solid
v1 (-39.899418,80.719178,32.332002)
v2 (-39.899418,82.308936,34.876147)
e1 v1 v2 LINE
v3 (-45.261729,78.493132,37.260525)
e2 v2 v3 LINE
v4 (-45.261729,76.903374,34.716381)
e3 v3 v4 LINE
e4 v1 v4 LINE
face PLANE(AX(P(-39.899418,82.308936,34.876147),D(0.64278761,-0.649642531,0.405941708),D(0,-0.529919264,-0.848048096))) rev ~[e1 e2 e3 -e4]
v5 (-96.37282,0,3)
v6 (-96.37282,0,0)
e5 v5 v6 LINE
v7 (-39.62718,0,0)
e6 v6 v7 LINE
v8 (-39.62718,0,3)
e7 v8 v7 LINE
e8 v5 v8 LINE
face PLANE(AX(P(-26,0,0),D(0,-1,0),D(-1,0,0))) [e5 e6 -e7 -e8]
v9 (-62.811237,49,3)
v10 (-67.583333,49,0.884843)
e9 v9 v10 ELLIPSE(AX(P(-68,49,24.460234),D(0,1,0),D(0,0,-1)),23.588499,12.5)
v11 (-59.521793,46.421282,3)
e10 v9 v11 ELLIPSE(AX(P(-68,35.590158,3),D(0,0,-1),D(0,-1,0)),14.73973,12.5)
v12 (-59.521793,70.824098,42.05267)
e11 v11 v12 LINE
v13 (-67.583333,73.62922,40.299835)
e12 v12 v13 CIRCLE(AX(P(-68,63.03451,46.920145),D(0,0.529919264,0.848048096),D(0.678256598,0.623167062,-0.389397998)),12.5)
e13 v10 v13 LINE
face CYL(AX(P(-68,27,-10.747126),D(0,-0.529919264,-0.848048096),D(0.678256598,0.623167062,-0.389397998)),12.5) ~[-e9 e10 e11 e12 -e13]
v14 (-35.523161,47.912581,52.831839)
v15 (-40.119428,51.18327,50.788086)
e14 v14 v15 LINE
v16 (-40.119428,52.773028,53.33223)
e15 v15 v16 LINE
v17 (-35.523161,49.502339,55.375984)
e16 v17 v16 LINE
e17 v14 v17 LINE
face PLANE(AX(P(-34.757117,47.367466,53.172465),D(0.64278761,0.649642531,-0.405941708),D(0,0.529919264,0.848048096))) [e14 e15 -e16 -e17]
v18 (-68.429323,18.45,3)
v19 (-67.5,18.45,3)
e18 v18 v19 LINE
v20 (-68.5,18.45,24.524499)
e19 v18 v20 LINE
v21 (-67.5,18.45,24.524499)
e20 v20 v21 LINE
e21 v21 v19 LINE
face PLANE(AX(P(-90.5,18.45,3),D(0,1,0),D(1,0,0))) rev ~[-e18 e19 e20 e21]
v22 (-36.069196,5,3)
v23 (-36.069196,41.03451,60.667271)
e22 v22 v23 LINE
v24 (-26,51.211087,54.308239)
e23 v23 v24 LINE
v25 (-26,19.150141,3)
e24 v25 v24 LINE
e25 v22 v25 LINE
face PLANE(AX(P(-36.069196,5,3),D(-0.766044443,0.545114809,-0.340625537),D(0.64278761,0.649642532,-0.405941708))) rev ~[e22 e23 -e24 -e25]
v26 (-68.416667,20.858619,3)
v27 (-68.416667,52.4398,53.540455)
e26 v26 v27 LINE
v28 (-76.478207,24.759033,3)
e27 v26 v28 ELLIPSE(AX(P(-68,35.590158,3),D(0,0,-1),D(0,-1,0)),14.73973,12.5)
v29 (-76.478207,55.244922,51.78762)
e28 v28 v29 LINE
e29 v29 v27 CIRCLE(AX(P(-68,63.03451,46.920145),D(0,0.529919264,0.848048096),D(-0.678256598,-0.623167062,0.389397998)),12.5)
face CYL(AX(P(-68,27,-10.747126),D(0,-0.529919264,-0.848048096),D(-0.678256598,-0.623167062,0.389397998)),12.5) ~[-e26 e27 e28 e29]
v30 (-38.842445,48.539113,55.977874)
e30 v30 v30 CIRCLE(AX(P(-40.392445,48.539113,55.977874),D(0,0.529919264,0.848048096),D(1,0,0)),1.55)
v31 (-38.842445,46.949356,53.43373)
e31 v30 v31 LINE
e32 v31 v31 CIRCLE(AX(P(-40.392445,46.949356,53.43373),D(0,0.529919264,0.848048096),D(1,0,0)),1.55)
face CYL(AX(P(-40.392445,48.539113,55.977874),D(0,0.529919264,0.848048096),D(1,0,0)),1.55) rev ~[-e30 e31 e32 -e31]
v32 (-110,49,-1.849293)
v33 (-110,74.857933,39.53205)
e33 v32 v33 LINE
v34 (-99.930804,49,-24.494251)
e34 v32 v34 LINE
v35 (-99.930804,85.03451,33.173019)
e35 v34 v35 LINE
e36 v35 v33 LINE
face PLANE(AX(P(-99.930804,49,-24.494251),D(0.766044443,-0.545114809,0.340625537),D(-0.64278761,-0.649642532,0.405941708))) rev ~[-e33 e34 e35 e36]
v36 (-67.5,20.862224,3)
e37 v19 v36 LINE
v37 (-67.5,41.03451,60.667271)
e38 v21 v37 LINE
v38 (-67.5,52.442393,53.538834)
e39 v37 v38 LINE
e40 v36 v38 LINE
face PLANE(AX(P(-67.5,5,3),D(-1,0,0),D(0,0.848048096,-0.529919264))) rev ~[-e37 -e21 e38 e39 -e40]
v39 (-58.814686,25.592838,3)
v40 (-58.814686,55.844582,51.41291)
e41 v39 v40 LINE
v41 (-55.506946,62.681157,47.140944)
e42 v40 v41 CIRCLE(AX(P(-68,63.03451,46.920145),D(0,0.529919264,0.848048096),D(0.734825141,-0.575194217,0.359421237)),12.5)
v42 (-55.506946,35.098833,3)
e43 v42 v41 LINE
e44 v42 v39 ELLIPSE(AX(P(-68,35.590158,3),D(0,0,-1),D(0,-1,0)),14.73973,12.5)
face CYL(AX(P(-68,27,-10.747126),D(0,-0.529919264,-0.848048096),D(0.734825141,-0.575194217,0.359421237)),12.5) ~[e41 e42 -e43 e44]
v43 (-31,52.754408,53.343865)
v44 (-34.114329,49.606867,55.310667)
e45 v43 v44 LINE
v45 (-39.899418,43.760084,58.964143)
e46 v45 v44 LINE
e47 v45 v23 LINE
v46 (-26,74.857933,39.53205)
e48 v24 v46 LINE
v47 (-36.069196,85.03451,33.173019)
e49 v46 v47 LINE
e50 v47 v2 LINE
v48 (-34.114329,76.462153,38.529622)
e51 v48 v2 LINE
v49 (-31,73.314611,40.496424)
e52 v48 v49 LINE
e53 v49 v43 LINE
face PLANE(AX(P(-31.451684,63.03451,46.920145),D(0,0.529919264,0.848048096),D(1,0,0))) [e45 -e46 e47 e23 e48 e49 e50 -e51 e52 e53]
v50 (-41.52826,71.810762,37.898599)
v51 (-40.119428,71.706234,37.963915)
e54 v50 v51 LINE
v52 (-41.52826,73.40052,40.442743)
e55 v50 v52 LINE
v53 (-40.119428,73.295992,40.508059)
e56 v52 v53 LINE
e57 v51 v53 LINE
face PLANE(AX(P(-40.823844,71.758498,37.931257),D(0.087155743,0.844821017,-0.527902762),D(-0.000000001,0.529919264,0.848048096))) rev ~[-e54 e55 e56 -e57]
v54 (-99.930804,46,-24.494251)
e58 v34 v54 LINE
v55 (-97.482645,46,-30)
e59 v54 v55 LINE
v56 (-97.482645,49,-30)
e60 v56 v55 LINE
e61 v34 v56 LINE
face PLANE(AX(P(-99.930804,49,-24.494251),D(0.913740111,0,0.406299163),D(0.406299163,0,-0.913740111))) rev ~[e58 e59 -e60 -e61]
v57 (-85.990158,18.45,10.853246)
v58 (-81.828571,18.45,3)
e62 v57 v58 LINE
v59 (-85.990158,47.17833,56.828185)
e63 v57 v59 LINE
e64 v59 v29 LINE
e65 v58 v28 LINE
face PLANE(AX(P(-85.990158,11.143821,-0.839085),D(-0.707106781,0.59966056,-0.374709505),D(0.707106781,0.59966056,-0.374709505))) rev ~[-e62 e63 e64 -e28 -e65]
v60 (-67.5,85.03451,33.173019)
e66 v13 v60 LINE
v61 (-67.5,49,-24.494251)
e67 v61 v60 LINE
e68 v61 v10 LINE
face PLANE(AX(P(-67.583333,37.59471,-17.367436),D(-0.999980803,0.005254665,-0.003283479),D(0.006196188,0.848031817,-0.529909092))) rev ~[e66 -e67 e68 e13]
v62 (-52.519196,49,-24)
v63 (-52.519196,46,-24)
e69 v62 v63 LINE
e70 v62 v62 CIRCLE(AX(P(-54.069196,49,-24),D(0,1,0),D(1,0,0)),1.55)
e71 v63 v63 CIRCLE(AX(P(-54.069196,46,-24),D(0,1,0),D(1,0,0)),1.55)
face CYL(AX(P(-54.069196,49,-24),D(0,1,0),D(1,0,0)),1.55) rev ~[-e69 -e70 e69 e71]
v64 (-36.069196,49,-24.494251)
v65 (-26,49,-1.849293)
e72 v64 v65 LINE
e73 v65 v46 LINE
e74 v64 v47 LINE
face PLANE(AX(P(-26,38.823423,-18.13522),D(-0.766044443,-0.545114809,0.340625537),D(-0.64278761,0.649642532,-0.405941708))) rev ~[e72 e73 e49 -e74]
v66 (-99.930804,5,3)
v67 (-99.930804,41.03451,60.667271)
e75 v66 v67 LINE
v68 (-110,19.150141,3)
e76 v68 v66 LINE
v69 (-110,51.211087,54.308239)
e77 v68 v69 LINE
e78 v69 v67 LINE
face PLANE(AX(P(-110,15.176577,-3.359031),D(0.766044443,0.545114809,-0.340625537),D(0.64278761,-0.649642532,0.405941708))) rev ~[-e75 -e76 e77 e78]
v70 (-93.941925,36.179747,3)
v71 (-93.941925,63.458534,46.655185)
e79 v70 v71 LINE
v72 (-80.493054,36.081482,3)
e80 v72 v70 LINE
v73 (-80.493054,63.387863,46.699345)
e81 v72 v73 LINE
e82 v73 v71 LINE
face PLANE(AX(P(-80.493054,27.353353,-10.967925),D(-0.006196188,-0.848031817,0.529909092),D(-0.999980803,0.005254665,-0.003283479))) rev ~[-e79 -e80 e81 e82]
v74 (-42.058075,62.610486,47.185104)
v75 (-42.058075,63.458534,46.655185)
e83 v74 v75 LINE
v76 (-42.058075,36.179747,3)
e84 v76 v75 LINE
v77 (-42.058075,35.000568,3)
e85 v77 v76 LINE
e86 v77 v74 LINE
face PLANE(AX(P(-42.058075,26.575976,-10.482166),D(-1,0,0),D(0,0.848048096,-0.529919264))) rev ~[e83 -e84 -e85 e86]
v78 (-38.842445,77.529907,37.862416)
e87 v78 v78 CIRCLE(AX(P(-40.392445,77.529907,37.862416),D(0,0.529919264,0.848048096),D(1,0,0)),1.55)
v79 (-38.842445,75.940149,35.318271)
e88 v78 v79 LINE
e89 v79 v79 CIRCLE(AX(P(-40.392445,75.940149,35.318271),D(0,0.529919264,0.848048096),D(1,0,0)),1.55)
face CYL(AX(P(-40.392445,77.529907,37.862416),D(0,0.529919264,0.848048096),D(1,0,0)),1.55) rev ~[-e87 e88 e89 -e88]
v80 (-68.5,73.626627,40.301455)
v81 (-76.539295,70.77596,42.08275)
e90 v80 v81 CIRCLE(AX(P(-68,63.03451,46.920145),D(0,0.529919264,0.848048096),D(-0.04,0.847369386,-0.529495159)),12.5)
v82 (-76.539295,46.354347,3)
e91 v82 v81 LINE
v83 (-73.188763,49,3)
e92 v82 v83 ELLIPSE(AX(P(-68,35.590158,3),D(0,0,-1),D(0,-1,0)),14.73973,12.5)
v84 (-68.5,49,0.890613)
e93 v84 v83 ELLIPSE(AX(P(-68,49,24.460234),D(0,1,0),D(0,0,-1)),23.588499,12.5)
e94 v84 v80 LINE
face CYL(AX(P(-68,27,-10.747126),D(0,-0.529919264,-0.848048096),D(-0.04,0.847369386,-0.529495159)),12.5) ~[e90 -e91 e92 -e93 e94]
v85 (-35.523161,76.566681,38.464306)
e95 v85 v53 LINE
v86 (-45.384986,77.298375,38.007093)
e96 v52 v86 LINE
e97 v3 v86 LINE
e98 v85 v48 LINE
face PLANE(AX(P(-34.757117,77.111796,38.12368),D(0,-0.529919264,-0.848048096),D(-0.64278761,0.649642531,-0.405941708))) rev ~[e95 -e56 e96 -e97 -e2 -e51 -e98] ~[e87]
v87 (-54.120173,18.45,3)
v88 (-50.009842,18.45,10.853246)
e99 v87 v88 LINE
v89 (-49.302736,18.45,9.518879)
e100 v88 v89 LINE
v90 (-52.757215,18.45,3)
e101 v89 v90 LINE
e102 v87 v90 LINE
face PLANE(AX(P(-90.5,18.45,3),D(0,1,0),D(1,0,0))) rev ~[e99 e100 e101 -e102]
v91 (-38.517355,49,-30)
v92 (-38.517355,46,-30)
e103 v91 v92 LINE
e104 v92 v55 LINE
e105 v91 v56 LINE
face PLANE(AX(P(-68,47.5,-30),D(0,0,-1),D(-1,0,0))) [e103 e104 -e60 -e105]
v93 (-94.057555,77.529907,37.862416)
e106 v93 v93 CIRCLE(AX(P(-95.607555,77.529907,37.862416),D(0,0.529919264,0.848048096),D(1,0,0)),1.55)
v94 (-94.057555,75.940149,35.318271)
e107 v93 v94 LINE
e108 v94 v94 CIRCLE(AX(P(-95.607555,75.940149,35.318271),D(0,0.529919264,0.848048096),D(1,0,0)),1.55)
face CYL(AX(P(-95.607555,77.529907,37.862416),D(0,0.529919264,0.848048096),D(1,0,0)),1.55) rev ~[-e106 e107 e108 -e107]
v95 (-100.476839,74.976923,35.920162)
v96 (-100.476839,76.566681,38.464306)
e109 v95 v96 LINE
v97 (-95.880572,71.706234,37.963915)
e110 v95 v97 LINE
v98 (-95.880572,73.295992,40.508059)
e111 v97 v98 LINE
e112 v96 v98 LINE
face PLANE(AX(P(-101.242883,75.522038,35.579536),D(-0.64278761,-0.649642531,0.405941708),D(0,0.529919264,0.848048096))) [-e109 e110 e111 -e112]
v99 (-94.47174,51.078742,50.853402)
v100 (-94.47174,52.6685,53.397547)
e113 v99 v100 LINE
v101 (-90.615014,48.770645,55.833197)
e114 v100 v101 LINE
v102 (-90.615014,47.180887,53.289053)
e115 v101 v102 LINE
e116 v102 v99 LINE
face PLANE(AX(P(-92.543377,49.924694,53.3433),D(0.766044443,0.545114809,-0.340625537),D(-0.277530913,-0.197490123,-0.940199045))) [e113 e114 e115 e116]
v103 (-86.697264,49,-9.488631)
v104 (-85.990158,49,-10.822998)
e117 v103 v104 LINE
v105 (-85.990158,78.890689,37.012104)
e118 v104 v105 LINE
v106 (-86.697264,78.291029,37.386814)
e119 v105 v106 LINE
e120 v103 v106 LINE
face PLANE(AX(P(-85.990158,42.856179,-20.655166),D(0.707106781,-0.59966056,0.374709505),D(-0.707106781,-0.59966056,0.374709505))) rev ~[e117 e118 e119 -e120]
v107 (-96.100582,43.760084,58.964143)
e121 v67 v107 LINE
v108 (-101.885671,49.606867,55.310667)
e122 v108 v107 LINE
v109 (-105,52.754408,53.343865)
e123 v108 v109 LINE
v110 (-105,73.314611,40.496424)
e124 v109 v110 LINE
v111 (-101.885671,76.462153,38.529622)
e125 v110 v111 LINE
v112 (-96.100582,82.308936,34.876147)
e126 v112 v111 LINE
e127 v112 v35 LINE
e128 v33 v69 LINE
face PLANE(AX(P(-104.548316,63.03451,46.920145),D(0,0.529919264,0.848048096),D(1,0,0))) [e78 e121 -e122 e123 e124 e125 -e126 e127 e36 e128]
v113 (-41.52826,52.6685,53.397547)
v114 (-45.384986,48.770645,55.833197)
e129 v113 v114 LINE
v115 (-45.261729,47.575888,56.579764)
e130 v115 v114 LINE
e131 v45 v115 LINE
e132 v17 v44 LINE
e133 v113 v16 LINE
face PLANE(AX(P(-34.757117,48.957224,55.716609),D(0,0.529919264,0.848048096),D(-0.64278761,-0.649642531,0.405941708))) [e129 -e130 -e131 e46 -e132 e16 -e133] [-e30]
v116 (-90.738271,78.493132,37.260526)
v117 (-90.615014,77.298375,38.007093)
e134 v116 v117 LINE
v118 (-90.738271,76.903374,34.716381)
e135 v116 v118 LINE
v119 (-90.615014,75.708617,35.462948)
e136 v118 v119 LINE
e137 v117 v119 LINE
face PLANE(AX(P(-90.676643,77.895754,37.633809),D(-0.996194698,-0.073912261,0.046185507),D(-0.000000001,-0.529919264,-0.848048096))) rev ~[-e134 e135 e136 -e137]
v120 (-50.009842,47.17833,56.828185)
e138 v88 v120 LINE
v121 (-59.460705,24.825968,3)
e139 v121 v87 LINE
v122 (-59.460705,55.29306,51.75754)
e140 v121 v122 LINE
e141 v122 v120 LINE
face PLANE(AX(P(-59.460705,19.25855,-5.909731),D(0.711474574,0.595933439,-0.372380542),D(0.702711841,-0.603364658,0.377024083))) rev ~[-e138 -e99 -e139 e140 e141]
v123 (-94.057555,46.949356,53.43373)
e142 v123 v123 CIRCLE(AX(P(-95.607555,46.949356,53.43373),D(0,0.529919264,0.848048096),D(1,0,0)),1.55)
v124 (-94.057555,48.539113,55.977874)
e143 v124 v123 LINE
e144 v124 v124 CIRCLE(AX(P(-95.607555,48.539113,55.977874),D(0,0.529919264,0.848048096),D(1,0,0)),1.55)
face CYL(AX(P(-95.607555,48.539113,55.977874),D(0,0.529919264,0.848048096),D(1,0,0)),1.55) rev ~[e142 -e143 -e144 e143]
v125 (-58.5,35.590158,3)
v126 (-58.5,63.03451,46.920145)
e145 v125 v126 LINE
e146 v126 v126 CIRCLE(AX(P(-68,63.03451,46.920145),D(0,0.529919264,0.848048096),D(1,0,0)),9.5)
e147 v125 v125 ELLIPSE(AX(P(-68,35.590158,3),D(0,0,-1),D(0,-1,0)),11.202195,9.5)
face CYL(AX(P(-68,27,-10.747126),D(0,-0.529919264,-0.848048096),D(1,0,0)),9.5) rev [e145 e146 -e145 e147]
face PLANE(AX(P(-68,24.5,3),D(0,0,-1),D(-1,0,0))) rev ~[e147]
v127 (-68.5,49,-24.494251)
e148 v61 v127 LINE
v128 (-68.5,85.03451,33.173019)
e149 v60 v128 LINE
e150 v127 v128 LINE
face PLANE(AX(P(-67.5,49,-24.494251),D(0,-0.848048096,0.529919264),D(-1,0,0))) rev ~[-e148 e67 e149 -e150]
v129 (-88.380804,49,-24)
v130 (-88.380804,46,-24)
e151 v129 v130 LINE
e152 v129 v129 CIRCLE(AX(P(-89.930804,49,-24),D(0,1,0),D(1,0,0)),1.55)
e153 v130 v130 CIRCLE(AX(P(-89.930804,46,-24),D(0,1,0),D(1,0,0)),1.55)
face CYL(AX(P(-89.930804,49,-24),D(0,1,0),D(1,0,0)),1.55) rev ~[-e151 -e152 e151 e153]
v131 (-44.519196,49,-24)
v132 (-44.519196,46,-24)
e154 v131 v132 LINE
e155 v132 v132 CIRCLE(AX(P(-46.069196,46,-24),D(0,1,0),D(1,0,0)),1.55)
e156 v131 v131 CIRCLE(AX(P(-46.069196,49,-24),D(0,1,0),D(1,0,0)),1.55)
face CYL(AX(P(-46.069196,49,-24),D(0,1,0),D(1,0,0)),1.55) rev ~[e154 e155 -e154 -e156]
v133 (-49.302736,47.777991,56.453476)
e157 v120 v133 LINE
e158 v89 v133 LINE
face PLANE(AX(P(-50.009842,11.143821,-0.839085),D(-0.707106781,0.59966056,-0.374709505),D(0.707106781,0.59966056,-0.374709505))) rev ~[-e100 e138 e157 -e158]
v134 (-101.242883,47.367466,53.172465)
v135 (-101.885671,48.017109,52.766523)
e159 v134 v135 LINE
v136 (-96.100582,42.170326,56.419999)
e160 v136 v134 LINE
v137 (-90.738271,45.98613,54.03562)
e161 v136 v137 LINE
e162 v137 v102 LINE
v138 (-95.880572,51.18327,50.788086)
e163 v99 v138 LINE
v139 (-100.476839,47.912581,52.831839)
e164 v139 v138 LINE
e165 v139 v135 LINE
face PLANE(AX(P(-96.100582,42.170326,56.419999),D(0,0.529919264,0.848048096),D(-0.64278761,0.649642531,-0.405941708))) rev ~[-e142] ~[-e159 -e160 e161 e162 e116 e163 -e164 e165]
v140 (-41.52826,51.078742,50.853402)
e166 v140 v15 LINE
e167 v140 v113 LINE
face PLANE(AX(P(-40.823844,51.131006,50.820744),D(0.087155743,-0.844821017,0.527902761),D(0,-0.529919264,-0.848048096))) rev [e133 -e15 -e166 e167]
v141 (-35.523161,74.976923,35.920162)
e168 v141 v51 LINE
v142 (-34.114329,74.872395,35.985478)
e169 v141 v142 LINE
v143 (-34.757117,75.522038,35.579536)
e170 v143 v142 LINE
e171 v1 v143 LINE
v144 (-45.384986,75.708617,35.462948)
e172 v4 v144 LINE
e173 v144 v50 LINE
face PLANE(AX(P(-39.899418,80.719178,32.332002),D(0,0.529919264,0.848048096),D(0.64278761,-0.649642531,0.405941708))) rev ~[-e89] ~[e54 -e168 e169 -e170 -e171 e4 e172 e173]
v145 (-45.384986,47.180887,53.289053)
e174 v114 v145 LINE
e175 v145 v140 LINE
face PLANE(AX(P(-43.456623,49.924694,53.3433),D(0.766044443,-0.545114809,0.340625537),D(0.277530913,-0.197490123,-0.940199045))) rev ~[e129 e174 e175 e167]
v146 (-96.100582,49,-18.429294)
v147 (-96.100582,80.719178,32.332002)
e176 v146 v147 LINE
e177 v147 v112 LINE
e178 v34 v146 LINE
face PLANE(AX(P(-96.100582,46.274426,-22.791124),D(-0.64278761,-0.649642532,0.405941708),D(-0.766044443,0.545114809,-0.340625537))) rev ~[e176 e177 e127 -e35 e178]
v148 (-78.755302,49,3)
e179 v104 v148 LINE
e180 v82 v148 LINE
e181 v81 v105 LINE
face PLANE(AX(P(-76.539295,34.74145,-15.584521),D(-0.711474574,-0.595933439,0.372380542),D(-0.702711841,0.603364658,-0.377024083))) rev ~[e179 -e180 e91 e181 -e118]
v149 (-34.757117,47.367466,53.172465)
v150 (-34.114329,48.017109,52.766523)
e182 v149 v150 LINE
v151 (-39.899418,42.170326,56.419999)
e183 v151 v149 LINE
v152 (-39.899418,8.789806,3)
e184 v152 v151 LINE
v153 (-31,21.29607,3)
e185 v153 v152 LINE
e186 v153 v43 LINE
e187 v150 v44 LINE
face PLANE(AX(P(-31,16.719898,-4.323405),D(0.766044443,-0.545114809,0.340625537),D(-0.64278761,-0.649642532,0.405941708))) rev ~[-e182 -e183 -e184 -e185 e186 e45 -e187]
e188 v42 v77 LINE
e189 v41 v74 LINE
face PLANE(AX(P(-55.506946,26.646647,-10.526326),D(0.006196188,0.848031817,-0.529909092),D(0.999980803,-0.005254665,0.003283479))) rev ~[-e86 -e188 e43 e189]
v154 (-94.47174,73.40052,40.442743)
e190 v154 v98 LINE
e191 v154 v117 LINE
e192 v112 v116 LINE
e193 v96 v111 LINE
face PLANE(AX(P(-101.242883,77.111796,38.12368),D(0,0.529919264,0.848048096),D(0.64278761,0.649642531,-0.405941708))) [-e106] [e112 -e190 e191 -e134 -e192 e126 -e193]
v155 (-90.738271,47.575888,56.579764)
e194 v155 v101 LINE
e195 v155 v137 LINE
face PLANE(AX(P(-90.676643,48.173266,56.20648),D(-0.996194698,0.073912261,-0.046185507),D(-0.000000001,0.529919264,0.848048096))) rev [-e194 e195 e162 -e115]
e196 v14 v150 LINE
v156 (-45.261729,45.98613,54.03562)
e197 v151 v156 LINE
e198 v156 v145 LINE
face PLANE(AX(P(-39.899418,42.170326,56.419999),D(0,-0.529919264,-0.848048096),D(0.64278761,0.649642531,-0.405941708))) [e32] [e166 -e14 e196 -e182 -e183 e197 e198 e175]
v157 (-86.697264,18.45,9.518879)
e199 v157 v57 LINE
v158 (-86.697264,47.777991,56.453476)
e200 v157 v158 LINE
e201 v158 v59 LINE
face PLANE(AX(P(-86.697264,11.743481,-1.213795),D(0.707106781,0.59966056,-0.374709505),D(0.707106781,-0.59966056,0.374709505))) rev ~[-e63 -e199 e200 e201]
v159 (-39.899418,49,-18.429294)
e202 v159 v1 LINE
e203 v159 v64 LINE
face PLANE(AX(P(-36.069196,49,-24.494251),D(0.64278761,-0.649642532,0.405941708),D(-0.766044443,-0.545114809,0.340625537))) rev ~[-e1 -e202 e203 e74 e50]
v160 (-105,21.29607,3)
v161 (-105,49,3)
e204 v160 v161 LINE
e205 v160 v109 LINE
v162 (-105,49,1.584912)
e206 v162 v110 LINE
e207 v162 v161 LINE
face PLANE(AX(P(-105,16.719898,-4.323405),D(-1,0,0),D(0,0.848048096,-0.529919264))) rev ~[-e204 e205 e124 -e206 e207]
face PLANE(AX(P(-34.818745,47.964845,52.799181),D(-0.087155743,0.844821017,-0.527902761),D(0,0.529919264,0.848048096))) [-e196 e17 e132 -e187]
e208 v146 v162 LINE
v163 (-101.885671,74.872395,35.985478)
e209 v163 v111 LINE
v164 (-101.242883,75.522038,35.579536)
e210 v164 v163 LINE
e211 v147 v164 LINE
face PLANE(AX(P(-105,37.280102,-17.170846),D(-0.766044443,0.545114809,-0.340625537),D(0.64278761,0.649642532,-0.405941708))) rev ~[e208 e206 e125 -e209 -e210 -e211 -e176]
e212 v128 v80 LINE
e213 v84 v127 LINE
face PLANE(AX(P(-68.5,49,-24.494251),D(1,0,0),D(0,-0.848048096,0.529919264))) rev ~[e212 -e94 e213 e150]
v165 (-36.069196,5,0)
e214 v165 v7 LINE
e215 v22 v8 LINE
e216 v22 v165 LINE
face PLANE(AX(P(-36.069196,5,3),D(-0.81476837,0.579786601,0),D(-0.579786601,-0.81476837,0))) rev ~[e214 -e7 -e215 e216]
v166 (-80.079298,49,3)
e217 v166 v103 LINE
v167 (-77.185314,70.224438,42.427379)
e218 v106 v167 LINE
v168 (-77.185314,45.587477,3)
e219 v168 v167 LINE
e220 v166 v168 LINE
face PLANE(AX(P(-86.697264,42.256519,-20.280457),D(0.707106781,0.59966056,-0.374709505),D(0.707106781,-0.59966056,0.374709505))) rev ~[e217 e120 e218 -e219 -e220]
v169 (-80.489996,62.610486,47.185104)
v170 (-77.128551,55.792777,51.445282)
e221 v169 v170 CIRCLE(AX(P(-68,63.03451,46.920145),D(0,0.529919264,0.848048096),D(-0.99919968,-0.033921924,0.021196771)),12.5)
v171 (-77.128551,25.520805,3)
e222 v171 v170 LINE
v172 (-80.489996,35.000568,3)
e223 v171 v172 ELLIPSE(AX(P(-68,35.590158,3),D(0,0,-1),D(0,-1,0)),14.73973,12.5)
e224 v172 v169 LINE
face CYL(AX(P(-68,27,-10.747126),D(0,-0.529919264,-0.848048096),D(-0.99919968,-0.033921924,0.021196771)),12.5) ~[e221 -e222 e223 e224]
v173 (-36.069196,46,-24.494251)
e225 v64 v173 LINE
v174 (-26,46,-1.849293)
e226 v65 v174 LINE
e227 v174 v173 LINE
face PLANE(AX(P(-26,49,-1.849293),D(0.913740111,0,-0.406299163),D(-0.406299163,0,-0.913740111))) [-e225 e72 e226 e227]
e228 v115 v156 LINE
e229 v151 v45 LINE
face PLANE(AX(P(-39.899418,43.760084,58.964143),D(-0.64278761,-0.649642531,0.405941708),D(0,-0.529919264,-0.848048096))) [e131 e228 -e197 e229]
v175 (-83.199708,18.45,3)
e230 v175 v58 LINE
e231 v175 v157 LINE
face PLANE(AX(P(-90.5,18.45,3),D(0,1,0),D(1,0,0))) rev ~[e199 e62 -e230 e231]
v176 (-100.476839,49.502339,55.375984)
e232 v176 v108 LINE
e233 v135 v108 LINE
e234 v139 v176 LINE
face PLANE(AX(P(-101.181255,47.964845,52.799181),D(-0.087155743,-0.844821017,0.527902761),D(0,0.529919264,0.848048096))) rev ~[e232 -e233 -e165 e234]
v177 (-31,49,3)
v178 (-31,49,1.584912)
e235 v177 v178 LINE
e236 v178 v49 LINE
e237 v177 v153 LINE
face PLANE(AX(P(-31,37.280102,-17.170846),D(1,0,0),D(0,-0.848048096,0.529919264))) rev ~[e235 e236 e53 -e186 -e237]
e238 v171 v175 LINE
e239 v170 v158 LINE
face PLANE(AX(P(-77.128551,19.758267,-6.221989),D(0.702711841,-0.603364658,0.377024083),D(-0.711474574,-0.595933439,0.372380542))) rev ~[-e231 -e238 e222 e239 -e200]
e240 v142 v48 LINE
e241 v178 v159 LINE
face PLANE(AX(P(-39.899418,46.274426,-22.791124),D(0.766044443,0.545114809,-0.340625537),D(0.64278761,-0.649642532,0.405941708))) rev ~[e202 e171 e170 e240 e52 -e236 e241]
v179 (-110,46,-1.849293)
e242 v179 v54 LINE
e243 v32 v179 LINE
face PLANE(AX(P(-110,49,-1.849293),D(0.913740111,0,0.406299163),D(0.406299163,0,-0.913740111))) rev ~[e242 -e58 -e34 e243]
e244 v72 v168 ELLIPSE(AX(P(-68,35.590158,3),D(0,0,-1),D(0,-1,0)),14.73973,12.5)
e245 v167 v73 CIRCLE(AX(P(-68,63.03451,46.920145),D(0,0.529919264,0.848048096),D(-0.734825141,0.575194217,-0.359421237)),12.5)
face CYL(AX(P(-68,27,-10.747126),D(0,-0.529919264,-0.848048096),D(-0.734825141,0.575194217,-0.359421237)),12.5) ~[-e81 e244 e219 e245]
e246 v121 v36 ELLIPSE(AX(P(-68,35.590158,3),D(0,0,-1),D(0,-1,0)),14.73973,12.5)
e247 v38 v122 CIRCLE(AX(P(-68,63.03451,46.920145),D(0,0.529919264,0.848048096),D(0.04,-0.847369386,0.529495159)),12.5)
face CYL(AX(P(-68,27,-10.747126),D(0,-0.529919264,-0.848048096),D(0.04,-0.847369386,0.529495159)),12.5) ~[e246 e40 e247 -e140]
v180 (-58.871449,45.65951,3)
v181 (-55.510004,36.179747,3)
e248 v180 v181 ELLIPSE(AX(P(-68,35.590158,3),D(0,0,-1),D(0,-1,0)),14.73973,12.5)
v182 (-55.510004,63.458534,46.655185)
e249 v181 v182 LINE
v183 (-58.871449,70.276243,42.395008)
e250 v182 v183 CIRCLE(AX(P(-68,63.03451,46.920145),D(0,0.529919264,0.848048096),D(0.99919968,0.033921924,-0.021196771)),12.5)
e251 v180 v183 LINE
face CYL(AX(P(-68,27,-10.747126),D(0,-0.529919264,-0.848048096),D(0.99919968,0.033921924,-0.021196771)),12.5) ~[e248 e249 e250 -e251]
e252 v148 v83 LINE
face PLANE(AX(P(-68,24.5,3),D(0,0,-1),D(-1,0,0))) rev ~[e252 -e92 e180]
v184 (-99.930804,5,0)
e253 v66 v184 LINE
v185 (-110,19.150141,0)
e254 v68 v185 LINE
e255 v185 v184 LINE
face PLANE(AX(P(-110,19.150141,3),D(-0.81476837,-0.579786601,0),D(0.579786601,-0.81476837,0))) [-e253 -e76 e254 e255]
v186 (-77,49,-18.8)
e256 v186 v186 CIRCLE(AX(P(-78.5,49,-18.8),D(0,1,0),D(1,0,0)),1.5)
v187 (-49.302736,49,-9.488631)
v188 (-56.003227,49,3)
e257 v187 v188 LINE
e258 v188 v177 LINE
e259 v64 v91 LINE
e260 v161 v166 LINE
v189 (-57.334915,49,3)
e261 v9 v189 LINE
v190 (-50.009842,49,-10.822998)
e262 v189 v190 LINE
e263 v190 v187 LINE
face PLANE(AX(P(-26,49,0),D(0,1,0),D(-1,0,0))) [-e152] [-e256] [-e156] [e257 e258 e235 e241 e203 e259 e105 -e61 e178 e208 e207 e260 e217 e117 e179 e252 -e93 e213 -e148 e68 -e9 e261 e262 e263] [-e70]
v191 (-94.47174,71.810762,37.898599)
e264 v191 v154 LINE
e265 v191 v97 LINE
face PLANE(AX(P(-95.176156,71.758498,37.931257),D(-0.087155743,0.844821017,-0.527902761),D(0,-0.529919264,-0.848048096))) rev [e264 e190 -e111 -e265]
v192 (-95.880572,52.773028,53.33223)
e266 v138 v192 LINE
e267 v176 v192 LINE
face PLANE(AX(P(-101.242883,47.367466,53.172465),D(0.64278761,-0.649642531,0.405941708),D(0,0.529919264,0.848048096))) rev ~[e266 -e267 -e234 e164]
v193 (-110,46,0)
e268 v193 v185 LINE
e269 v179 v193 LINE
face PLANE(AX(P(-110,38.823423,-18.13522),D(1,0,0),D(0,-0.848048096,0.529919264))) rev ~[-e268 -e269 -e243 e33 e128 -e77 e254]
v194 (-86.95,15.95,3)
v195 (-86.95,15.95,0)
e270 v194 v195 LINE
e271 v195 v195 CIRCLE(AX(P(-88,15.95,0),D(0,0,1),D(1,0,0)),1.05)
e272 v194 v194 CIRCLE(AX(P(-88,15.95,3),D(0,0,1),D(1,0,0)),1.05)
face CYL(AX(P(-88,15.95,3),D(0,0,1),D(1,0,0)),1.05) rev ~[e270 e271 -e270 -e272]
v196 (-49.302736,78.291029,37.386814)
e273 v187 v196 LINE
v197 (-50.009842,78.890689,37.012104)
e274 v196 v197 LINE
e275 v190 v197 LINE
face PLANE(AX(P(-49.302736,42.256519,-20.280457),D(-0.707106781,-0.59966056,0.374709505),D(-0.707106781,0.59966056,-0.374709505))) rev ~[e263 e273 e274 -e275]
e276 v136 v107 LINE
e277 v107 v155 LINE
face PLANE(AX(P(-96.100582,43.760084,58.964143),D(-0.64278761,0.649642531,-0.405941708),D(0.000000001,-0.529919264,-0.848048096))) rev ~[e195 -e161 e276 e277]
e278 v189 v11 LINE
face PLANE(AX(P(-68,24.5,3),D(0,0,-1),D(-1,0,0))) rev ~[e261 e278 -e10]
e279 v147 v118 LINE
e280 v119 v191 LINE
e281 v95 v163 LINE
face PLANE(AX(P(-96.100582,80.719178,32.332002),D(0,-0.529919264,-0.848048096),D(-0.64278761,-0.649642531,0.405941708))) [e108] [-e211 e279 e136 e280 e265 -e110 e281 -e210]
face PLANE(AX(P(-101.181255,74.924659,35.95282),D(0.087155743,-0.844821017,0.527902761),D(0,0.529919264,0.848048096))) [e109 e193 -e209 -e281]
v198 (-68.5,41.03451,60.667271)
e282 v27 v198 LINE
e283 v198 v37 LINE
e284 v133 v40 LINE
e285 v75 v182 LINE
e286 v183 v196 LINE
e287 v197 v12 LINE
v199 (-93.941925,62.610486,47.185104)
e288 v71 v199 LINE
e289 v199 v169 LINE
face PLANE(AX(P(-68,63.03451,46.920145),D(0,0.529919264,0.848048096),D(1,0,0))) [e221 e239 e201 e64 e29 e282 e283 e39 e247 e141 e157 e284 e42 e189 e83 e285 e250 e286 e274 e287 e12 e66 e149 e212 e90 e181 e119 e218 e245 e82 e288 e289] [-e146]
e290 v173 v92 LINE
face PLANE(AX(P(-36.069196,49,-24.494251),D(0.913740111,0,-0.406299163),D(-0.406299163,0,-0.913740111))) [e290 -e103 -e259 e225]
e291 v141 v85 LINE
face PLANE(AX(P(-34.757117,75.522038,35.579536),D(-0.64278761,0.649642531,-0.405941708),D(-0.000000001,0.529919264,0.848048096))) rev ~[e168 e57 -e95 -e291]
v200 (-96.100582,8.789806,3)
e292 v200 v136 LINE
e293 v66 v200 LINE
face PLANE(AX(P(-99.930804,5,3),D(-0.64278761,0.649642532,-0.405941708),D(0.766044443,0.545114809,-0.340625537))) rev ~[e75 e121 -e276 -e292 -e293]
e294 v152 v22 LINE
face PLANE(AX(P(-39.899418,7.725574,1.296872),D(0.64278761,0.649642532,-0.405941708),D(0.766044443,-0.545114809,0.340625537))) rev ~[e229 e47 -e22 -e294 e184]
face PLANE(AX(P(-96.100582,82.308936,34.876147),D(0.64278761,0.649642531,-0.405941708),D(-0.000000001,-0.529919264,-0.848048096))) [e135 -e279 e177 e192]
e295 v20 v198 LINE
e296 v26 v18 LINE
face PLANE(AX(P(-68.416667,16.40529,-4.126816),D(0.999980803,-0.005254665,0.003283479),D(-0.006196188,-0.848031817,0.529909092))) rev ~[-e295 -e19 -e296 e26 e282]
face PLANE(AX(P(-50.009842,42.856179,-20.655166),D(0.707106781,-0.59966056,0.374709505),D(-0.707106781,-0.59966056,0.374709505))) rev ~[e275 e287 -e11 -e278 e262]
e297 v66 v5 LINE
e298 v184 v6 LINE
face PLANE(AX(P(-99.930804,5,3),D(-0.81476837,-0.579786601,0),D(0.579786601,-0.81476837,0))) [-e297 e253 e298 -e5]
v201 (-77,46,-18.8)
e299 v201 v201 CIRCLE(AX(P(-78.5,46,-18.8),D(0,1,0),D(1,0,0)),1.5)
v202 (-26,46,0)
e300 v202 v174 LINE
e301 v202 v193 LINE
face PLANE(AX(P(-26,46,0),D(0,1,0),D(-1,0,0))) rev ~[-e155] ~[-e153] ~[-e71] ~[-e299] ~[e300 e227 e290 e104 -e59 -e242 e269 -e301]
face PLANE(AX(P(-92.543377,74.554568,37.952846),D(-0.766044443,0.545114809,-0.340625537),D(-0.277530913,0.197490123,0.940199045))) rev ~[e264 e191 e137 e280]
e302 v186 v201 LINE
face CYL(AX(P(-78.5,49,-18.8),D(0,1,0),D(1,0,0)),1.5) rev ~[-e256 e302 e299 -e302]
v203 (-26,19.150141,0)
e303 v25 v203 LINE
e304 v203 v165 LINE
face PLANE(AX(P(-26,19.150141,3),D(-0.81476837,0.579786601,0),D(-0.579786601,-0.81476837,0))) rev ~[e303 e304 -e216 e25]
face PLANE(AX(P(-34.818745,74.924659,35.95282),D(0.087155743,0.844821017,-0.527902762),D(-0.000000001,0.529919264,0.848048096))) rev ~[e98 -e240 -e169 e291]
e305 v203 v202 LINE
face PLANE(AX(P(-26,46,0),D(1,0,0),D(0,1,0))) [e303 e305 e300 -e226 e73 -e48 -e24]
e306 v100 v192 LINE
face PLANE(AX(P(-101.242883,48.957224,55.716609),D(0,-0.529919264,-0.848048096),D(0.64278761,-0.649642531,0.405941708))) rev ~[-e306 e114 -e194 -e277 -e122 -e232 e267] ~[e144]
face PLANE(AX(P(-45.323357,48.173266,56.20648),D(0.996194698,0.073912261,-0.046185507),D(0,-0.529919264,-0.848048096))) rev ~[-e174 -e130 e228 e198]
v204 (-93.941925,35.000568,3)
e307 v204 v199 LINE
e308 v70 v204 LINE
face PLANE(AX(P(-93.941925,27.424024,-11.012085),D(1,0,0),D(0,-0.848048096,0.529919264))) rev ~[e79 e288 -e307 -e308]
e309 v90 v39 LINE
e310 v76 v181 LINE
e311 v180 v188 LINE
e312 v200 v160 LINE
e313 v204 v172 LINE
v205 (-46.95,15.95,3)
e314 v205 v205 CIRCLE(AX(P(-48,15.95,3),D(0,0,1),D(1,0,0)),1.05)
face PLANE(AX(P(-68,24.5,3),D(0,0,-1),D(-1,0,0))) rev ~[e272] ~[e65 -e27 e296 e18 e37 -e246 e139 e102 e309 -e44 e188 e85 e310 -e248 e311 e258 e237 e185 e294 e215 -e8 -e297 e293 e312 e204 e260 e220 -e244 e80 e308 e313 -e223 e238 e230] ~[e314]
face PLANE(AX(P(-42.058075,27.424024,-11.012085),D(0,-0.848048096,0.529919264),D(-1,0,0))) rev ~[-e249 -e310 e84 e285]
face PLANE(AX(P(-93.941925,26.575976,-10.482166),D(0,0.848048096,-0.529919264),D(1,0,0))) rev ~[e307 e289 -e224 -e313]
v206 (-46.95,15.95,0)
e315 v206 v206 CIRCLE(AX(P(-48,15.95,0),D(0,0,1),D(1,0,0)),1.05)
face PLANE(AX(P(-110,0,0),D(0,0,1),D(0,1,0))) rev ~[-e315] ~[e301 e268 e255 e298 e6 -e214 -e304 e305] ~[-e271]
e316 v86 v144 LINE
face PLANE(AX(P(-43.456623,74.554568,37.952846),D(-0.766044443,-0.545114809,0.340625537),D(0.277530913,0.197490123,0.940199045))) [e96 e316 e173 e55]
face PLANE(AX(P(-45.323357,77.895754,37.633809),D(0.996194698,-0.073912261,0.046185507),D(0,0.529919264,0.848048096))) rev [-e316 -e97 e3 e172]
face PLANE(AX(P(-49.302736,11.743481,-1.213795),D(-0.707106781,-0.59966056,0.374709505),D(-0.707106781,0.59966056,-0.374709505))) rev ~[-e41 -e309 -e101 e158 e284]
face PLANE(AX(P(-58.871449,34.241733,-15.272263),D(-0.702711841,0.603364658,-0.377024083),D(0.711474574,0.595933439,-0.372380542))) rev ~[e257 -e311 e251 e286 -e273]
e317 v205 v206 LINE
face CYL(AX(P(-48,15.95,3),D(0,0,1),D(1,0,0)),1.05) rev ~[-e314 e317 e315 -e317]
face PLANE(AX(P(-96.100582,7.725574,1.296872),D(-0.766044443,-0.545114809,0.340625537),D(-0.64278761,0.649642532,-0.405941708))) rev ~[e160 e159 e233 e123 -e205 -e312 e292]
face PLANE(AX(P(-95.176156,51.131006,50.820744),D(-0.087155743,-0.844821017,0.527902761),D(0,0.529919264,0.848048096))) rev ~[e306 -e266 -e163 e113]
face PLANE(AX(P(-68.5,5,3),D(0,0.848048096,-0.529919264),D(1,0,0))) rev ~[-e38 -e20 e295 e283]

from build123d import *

# Parameters (mm, degrees)
BOSS_EXTRUDE1_DEPTH = 3
SKETCH3_W           = 84
SKETCH3_H           = 3
BOSS_EXTRUDE2_DEPTH = 30
BOSS_EXTRUDE3_DEPTH = 68
SKETCH8_R           = 9.5
BOSS_EXTRUDE4_DEPTH = 68
SKETCH9_W           = 30
SKETCH9_H           = 46
CUT_EXTRUDE3_DEPTH  = 85
CUT_EXTRUDE4_DEPTH  = 68
CUT_EXTRUDE5_DEPTH  = 68
BOSS_EXTRUDE5_DEPTH = 8
CHAMFER1_SIZE       = 1
BOSS_EXTRUDE6_DEPTH = 8
CHAMFER2_SIZE       = 1
BOSS_EXTRUDE7_DEPTH = 8
CHAMFER3_SIZE       = 1
BOSS_EXTRUDE8_DEPTH = 8
CHAMFER4_SIZE       = 1
CUT_EXTRUDE6_REACH  = 100.635
SKETCH17_R          = 1.55
CUT_EXTRUDE7_REACH  = 51
SKETCH18_R          = 1.55
SKETCH18_R_2        = 1.5
SKETCH21_W          = 45
SKETCH21_H          = 22
CUT_EXTRUDE8_DEPTH  = 58.667270539
SKETCH22_R          = 1.05
CUT_EXTRUDE9_DEPTH  = 3


with BuildPart() as part:
    # Sketch2 → Boss-Extrude1 (new body)
    with BuildSketch(Plane.XY):
        Polygon((-110, 46), (-110, 49), (-26, 49), (-26, 46), (-26, 0), (-110, 0), align=None)
    extrude(amount=BOSS_EXTRUDE1_DEPTH)

    # Sketch3 → Boss-Extrude2 (add)
    with BuildSketch(Plane(origin=(0, 0, 0), x_dir=(-1, 0, 0), z_dir=(0, 0, -1))):
        with Locations((68, 47.5)):
            Rectangle(SKETCH3_W, SKETCH3_H)
    extrude(amount=BOSS_EXTRUDE2_DEPTH)

    # Sketch7 → Boss-Extrude3 (add)
    with BuildSketch(Plane(origin=(0, 2.752263202, 4.404541836), x_dir=(1, 0, 0), z_dir=(0, 0.529919264, 0.848048096))):
        Polygon((-110, 14.650482688), (-99.930804426, 2.650482688), (-96.10058221, 5.864420737), (-105, 16.470333859), (-105, 40.714481265), (-96.10058221, 51.320394388), (-99.930804426, 54.534332436), (-110, 42.534332436), align=None)
        Polygon((-39.89941779, 5.864420737), (-36.069195574, 2.650482688), (-26, 14.650482688), (-26, 39.964598919), (-26, 42.534332436), (-36.069195574, 54.534332436), (-39.89941779, 51.320394388), (-31, 40.714481265), (-31, 16.470333859), align=None)
    extrude(amount=BOSS_EXTRUDE3_DEPTH)

    # Sketch8 → Boss-Extrude4 (add)
    with BuildSketch(Plane(origin=(0, 2.752263202, 4.404541836), x_dir=(1, 0, 0), z_dir=(0, 0.529919264, 0.848048096))):
        with BuildLine():
            Line((-67.5, 54.534332436), (-68.5, 54.534332436))
            Line((-68.5, 54.534332436), (-68.5, 41.082403559))
            ThreePointArc((-68.5, 41.082403559), (-72.822037178, 40.124881601), (-76.539295111, 37.720958324))
            Line((-76.539295111, 37.720958324), (-85.990157605, 47.289671948))
            Line((-85.990157605, 47.289671948), (-86.697264386, 46.582565167))
            Line((-86.697264386, 46.582565167), (-77.185314257, 37.070615038))
            ThreePointArc((-77.185314257, 37.070615038), (-79.564385784, 33.337402971), (-80.493053625, 29.009074229))
            Line((-80.493053625, 29.009074229), (-93.941924874, 29.092407562))
            Line((-93.941924874, 29.092407562), (-93.941924874, 28.092407562))
            Line((-93.941924874, 28.092407562), (-80.489995997, 28.092407562))
            ThreePointArc((-80.489995997, 28.092407562), (-79.532474039, 23.770370384), (-77.128550762, 20.053112451))
            Line((-77.128550762, 20.053112451), (-86.697264386, 10.602249957))
            Line((-86.697264386, 10.602249957), (-85.990157605, 9.895143176))
            Line((-85.990157605, 9.895143176), (-76.478207476, 19.407093305))
            ThreePointArc((-76.478207476, 19.407093305), (-72.744995409, 17.028021778), (-68.416666667, 16.099353937))
            Line((-68.416666667, 16.099353937), (-68.5, 2.650482688))
            Line((-68.5, 2.650482688), (-67.5, 2.650482688))
            Line((-67.5, 2.650482688), (-67.5, 16.102411565))
            ThreePointArc((-67.5, 16.102411565), (-63.177962822, 17.059933523), (-59.460704889, 19.4638568))
            Line((-59.460704889, 19.4638568), (-50.009842395, 9.895143176))
            Line((-50.009842395, 9.895143176), (-49.302735614, 10.602249957))
            Line((-49.302735614, 10.602249957), (-58.814685743, 20.114200086))
            ThreePointArc((-58.814685743, 20.114200086), (-56.435614216, 23.847412153), (-55.506946375, 28.175740895))
            Line((-55.506946375, 28.175740895), (-42.058075126, 28.092407562))
            Line((-42.058075126, 28.092407562), (-42.058075126, 29.092407562))
            Line((-42.058075126, 29.092407562), (-55.510004003, 29.092407562))
            ThreePointArc((-55.510004003, 29.092407562), (-56.467525961, 33.41444474), (-58.871449238, 37.131702673))
            Line((-58.871449238, 37.131702673), (-49.302735614, 46.582565167))
            Line((-49.302735614, 46.582565167), (-50.009842395, 47.289671948))
            Line((-50.009842395, 47.289671948), (-59.521792524, 37.777721819))
            ThreePointArc((-59.521792524, 37.777721819), (-63.255004591, 40.156793346), (-67.583333333, 41.085461188))
            Line((-67.583333333, 41.085461188), (-67.5, 54.534332436))
        make_face()
        with Locations((-68, 28.592407562)):
            Circle(SKETCH8_R, mode=Mode.SUBTRACT)
    extrude(amount=BOSS_EXTRUDE4_DEPTH)

    # Sketch9 → Cut-Extrude3 (cut, through all)
    with BuildSketch(Plane.ZY.offset(110)):
        with Locations((-15, 23)):
            Rectangle(SKETCH9_W, SKETCH9_H)
    extrude(amount=-CUT_EXTRUDE3_DEPTH, mode=Mode.SUBTRACT)

    # Sketch11 → Cut-Extrude4 (cut)
    with BuildSketch(Plane(origin=(0, 49, 0), x_dir=(1, 0, 0), z_dir=(0, 1, 0))):
        Polygon((-26, 1.849292506), (-36.069195574, 24.494251484), (-38.517354506, 30), (-26, 30), align=None)
        Polygon((-110, 1.849292506), (-99.930804426, 24.494251484), (-97.482645494, 30), (-110, 30), align=None)
    extrude(amount=-CUT_EXTRUDE4_DEPTH, mode=Mode.SUBTRACT)

    # Sketch12 → Cut-Extrude5 (cut)
    with BuildSketch(Plane.XY.offset(3)):
        Polygon((-110, 19.15014084), (-99.930804426, 5), (-96.372820202, 0), (-110, 0), align=None)
        Polygon((-26, 19.15014084), (-36.069195574, 5), (-39.627179798, 0), (-26, 0), align=None)
    extrude(amount=-CUT_EXTRUDE5_DEPTH, mode=Mode.SUBTRACT)

    # Sketch13 → Boss-Extrude5 (add)
    with BuildSketch(Plane(origin=(-81.664497732, 58.112198911, -36.312532071), x_dir=(0.277530914, -0.197490123, -0.940199045), z_dir=(0.766044443, -0.545114809, 0.340625537))):
        Polygon((-75.716604077, 11.344887623), (-73.010640587, 10.049603257), (-76.464732228, 2.833700616), (-79.170695719, 4.128984981), align=None)
    extrude(amount=BOSS_EXTRUDE5_DEPTH)

    # Chamfer1
    chamfer1_edges = [part.edges().sort_by_distance(p)[0] for p in [
        (-101.242883088, 76.316916776, 36.851608258),
        (-95.114527543, 71.955998307, 39.576612555),
        (-89.972226665, 77.153138559, 36.329078894),
    ]]
    chamfer(chamfer1_edges, length=CHAMFER1_SIZE)

    # Sketch14 → Boss-Extrude6 (add)
    with BuildSketch(Plane(origin=(-53.506473088, -38.075037421, 23.791923957), x_dir=(-0.277530914, -0.197490123, -0.940199045), z_dir=(0.766044443, 0.545114809, -0.340625537))):
        Polygon((-37.409332735, 91.372162271), (-34.703369245, 90.076877905), (-31.249277603, 97.292780547), (-33.955241094, 98.588064912), align=None)
    extrude(amount=BOSS_EXTRUDE6_DEPTH)

    # Chamfer2
    chamfer2_edges = [part.edges().sort_by_distance(p)[0] for p in [
        (-101.242883088, 48.162345367, 54.444537047),
        (-89.972226665, 47.326123584, 54.967066411),
        (-95.114527543, 52.523263836, 51.71953275),
    ]]
    chamfer(chamfer2_edges, length=CHAMFER2_SIZE)

    # Sketch15 → Boss-Extrude7 (add)
    with BuildSketch(Plane(origin=(1.856421651, 1.321023789, -0.825467279), x_dir=(0.277530914, 0.197490123, 0.940199045), z_dir=(-0.766044443, -0.545114809, 0.340625537))):
        Polygon((37.972399808, 90.195865404), (35.266436317, 88.900581038), (38.720527959, 81.684678396), (41.426491449, 82.979962762), align=None)
    extrude(amount=BOSS_EXTRUDE7_DEPTH)

    # Chamfer3
    chamfer3_edges = [part.edges().sort_by_distance(p)[0] for p in [
        (-34.757116912, 76.316916776, 36.851608258),
        (-46.027773335, 77.153138559, 36.329078894),
        (-40.885472457, 71.955998307, 39.576612555),
    ]]
    chamfer(chamfer3_edges, length=CHAMFER3_SIZE)

    # Sketch16 → Boss-Extrude8 (add)
    with BuildSketch(Plane(origin=(-26.301602994, 18.716137701, -11.695140835), x_dir=(-0.277530914, 0.197490123, 0.940199045), z_dir=(-0.766044443, 0.545114809, -0.340625537))):
        Polygon((75.153537005, 12.52118449), (72.447573514, 11.225900124), (68.993481872, 18.441802766), (71.699445363, 19.737087131), align=None)
    extrude(amount=BOSS_EXTRUDE8_DEPTH)

    # Chamfer4
    chamfer4_edges = [part.edges().sort_by_distance(p)[0] for p in [
        (-34.757116912, 48.162345367, 54.444537047),
        (-40.885472457, 52.523263836, 51.71953275),
        (-46.027773335, 47.326123584, 54.967066411),
    ]]
    chamfer(chamfer4_edges, length=CHAMFER4_SIZE)

    # Sketch17 → Cut-Extrude6 (cut, up to next)
    with BuildSketch(Plane(origin=(0, 38.78677317, 62.071812375), x_dir=(1, 0, 0), z_dir=(0, 0.529919264, 0.848048096)), mode=Mode.PRIVATE) as cut_extrude6_sk1:
        with Locations((-95.607554877, 45.685066176)):
            Circle(SKETCH17_R)
    cut_extrude6_tool1 = extrude(cut_extrude6_sk1.sketch, amount=-CUT_EXTRUDE6_REACH, mode=Mode.PRIVATE) & part.part
    add(cut_extrude6_tool1.solids().sort_by_distance((-95.607555, 77.529907, 37.862416))[0], mode=Mode.SUBTRACT)
    # Sketch17 → Cut-Extrude6 (cut, up to next)
    with BuildSketch(Plane(origin=(0, 38.78677317, 62.071812375), x_dir=(1, 0, 0), z_dir=(0, 0.529919264, 0.848048096)), mode=Mode.PRIVATE) as cut_extrude6_sk2:
        with Locations((-95.607554877, 11.499748948)):
            Circle(SKETCH17_R)
    cut_extrude6_tool2 = extrude(cut_extrude6_sk2.sketch, amount=-CUT_EXTRUDE6_REACH, mode=Mode.PRIVATE) & part.part
    add(cut_extrude6_tool2.solids().sort_by_distance((-95.607555, 48.539113, 55.977874))[0], mode=Mode.SUBTRACT)
    # Sketch17 → Cut-Extrude6 (cut, up to next)
    with BuildSketch(Plane(origin=(0, 38.78677317, 62.071812375), x_dir=(1, 0, 0), z_dir=(0, 0.529919264, 0.848048096)), mode=Mode.PRIVATE) as cut_extrude6_sk3:
        with Locations((-40.392445123, 45.685066176)):
            Circle(SKETCH17_R)
    cut_extrude6_tool3 = extrude(cut_extrude6_sk3.sketch, amount=-CUT_EXTRUDE6_REACH, mode=Mode.PRIVATE) & part.part
    add(cut_extrude6_tool3.solids().sort_by_distance((-40.392445, 77.529907, 37.862416))[0], mode=Mode.SUBTRACT)
    # Sketch17 → Cut-Extrude6 (cut, up to next)
    with BuildSketch(Plane(origin=(0, 38.78677317, 62.071812375), x_dir=(1, 0, 0), z_dir=(0, 0.529919264, 0.848048096)), mode=Mode.PRIVATE) as cut_extrude6_sk4:
        with Locations((-40.392445123, 11.499748948)):
            Circle(SKETCH17_R)
    cut_extrude6_tool4 = extrude(cut_extrude6_sk4.sketch, amount=-CUT_EXTRUDE6_REACH, mode=Mode.PRIVATE) & part.part
    add(cut_extrude6_tool4.solids().sort_by_distance((-40.392445, 48.539113, 55.977874))[0], mode=Mode.SUBTRACT)

    # Sketch18 → Cut-Extrude7 (cut, up to next)
    with BuildSketch(Plane(origin=(0, 49, 0), x_dir=(1, 0, 0), z_dir=(0, 1, 0)), mode=Mode.PRIVATE) as cut_extrude7_sk1:
        with Locations((-89.930804426, 24)):
            Circle(SKETCH18_R)
    cut_extrude7_tool1 = extrude(cut_extrude7_sk1.sketch, amount=-CUT_EXTRUDE7_REACH, mode=Mode.PRIVATE) & part.part
    add(cut_extrude7_tool1.solids().sort_by_distance((-89.930804, 49, -24))[0], mode=Mode.SUBTRACT)
    # Sketch18 → Cut-Extrude7 (cut, up to next)
    with BuildSketch(Plane(origin=(0, 49, 0), x_dir=(1, 0, 0), z_dir=(0, 1, 0)), mode=Mode.PRIVATE) as cut_extrude7_sk2:
        with Locations((-54.069195574, 24)):
            Circle(SKETCH18_R)
    cut_extrude7_tool2 = extrude(cut_extrude7_sk2.sketch, amount=-CUT_EXTRUDE7_REACH, mode=Mode.PRIVATE) & part.part
    add(cut_extrude7_tool2.solids().sort_by_distance((-54.069196, 49, -24))[0], mode=Mode.SUBTRACT)
    # Sketch18 → Cut-Extrude7 (cut, up to next)
    with BuildSketch(Plane(origin=(0, 49, 0), x_dir=(1, 0, 0), z_dir=(0, 1, 0)), mode=Mode.PRIVATE) as cut_extrude7_sk3:
        with Locations((-46.069195574, 24)):
            Circle(SKETCH18_R)
    cut_extrude7_tool3 = extrude(cut_extrude7_sk3.sketch, amount=-CUT_EXTRUDE7_REACH, mode=Mode.PRIVATE) & part.part
    add(cut_extrude7_tool3.solids().sort_by_distance((-46.069196, 49, -24))[0], mode=Mode.SUBTRACT)
    # Sketch18 → Cut-Extrude7 (cut, up to next)
    with BuildSketch(Plane(origin=(0, 49, 0), x_dir=(1, 0, 0), z_dir=(0, 1, 0)), mode=Mode.PRIVATE) as cut_extrude7_sk4:
        with Locations((-78.5, 18.8)):
            Circle(SKETCH18_R_2)
    cut_extrude7_tool4 = extrude(cut_extrude7_sk4.sketch, amount=-CUT_EXTRUDE7_REACH, mode=Mode.PRIVATE) & part.part
    add(cut_extrude7_tool4.solids().sort_by_distance((-78.5, 49, -18.8))[0], mode=Mode.SUBTRACT)

    # Sketch21 → Cut-Extrude8 (cut, through all)
    with BuildSketch(Plane.XY.offset(3)):
        with Locations((-68, 7.45)):
            Rectangle(SKETCH21_W, SKETCH21_H)
    extrude(amount=CUT_EXTRUDE8_DEPTH, mode=Mode.SUBTRACT)

    # Sketch22 → Cut-Extrude9 (cut)
    with BuildSketch(Plane.XY.offset(3)):
        with Locations((-48, -1.05)):
            Circle(SKETCH22_R)
        with Locations((-88, -1.05)):
            Circle(SKETCH22_R)
        with Locations((-88, 15.95)):
            Circle(SKETCH22_R)
        with Locations((-48, 15.95)):
            Circle(SKETCH22_R)
    extrude(amount=-CUT_EXTRUDE9_DEPTH, mode=Mode.SUBTRACT)


solid = part.part
